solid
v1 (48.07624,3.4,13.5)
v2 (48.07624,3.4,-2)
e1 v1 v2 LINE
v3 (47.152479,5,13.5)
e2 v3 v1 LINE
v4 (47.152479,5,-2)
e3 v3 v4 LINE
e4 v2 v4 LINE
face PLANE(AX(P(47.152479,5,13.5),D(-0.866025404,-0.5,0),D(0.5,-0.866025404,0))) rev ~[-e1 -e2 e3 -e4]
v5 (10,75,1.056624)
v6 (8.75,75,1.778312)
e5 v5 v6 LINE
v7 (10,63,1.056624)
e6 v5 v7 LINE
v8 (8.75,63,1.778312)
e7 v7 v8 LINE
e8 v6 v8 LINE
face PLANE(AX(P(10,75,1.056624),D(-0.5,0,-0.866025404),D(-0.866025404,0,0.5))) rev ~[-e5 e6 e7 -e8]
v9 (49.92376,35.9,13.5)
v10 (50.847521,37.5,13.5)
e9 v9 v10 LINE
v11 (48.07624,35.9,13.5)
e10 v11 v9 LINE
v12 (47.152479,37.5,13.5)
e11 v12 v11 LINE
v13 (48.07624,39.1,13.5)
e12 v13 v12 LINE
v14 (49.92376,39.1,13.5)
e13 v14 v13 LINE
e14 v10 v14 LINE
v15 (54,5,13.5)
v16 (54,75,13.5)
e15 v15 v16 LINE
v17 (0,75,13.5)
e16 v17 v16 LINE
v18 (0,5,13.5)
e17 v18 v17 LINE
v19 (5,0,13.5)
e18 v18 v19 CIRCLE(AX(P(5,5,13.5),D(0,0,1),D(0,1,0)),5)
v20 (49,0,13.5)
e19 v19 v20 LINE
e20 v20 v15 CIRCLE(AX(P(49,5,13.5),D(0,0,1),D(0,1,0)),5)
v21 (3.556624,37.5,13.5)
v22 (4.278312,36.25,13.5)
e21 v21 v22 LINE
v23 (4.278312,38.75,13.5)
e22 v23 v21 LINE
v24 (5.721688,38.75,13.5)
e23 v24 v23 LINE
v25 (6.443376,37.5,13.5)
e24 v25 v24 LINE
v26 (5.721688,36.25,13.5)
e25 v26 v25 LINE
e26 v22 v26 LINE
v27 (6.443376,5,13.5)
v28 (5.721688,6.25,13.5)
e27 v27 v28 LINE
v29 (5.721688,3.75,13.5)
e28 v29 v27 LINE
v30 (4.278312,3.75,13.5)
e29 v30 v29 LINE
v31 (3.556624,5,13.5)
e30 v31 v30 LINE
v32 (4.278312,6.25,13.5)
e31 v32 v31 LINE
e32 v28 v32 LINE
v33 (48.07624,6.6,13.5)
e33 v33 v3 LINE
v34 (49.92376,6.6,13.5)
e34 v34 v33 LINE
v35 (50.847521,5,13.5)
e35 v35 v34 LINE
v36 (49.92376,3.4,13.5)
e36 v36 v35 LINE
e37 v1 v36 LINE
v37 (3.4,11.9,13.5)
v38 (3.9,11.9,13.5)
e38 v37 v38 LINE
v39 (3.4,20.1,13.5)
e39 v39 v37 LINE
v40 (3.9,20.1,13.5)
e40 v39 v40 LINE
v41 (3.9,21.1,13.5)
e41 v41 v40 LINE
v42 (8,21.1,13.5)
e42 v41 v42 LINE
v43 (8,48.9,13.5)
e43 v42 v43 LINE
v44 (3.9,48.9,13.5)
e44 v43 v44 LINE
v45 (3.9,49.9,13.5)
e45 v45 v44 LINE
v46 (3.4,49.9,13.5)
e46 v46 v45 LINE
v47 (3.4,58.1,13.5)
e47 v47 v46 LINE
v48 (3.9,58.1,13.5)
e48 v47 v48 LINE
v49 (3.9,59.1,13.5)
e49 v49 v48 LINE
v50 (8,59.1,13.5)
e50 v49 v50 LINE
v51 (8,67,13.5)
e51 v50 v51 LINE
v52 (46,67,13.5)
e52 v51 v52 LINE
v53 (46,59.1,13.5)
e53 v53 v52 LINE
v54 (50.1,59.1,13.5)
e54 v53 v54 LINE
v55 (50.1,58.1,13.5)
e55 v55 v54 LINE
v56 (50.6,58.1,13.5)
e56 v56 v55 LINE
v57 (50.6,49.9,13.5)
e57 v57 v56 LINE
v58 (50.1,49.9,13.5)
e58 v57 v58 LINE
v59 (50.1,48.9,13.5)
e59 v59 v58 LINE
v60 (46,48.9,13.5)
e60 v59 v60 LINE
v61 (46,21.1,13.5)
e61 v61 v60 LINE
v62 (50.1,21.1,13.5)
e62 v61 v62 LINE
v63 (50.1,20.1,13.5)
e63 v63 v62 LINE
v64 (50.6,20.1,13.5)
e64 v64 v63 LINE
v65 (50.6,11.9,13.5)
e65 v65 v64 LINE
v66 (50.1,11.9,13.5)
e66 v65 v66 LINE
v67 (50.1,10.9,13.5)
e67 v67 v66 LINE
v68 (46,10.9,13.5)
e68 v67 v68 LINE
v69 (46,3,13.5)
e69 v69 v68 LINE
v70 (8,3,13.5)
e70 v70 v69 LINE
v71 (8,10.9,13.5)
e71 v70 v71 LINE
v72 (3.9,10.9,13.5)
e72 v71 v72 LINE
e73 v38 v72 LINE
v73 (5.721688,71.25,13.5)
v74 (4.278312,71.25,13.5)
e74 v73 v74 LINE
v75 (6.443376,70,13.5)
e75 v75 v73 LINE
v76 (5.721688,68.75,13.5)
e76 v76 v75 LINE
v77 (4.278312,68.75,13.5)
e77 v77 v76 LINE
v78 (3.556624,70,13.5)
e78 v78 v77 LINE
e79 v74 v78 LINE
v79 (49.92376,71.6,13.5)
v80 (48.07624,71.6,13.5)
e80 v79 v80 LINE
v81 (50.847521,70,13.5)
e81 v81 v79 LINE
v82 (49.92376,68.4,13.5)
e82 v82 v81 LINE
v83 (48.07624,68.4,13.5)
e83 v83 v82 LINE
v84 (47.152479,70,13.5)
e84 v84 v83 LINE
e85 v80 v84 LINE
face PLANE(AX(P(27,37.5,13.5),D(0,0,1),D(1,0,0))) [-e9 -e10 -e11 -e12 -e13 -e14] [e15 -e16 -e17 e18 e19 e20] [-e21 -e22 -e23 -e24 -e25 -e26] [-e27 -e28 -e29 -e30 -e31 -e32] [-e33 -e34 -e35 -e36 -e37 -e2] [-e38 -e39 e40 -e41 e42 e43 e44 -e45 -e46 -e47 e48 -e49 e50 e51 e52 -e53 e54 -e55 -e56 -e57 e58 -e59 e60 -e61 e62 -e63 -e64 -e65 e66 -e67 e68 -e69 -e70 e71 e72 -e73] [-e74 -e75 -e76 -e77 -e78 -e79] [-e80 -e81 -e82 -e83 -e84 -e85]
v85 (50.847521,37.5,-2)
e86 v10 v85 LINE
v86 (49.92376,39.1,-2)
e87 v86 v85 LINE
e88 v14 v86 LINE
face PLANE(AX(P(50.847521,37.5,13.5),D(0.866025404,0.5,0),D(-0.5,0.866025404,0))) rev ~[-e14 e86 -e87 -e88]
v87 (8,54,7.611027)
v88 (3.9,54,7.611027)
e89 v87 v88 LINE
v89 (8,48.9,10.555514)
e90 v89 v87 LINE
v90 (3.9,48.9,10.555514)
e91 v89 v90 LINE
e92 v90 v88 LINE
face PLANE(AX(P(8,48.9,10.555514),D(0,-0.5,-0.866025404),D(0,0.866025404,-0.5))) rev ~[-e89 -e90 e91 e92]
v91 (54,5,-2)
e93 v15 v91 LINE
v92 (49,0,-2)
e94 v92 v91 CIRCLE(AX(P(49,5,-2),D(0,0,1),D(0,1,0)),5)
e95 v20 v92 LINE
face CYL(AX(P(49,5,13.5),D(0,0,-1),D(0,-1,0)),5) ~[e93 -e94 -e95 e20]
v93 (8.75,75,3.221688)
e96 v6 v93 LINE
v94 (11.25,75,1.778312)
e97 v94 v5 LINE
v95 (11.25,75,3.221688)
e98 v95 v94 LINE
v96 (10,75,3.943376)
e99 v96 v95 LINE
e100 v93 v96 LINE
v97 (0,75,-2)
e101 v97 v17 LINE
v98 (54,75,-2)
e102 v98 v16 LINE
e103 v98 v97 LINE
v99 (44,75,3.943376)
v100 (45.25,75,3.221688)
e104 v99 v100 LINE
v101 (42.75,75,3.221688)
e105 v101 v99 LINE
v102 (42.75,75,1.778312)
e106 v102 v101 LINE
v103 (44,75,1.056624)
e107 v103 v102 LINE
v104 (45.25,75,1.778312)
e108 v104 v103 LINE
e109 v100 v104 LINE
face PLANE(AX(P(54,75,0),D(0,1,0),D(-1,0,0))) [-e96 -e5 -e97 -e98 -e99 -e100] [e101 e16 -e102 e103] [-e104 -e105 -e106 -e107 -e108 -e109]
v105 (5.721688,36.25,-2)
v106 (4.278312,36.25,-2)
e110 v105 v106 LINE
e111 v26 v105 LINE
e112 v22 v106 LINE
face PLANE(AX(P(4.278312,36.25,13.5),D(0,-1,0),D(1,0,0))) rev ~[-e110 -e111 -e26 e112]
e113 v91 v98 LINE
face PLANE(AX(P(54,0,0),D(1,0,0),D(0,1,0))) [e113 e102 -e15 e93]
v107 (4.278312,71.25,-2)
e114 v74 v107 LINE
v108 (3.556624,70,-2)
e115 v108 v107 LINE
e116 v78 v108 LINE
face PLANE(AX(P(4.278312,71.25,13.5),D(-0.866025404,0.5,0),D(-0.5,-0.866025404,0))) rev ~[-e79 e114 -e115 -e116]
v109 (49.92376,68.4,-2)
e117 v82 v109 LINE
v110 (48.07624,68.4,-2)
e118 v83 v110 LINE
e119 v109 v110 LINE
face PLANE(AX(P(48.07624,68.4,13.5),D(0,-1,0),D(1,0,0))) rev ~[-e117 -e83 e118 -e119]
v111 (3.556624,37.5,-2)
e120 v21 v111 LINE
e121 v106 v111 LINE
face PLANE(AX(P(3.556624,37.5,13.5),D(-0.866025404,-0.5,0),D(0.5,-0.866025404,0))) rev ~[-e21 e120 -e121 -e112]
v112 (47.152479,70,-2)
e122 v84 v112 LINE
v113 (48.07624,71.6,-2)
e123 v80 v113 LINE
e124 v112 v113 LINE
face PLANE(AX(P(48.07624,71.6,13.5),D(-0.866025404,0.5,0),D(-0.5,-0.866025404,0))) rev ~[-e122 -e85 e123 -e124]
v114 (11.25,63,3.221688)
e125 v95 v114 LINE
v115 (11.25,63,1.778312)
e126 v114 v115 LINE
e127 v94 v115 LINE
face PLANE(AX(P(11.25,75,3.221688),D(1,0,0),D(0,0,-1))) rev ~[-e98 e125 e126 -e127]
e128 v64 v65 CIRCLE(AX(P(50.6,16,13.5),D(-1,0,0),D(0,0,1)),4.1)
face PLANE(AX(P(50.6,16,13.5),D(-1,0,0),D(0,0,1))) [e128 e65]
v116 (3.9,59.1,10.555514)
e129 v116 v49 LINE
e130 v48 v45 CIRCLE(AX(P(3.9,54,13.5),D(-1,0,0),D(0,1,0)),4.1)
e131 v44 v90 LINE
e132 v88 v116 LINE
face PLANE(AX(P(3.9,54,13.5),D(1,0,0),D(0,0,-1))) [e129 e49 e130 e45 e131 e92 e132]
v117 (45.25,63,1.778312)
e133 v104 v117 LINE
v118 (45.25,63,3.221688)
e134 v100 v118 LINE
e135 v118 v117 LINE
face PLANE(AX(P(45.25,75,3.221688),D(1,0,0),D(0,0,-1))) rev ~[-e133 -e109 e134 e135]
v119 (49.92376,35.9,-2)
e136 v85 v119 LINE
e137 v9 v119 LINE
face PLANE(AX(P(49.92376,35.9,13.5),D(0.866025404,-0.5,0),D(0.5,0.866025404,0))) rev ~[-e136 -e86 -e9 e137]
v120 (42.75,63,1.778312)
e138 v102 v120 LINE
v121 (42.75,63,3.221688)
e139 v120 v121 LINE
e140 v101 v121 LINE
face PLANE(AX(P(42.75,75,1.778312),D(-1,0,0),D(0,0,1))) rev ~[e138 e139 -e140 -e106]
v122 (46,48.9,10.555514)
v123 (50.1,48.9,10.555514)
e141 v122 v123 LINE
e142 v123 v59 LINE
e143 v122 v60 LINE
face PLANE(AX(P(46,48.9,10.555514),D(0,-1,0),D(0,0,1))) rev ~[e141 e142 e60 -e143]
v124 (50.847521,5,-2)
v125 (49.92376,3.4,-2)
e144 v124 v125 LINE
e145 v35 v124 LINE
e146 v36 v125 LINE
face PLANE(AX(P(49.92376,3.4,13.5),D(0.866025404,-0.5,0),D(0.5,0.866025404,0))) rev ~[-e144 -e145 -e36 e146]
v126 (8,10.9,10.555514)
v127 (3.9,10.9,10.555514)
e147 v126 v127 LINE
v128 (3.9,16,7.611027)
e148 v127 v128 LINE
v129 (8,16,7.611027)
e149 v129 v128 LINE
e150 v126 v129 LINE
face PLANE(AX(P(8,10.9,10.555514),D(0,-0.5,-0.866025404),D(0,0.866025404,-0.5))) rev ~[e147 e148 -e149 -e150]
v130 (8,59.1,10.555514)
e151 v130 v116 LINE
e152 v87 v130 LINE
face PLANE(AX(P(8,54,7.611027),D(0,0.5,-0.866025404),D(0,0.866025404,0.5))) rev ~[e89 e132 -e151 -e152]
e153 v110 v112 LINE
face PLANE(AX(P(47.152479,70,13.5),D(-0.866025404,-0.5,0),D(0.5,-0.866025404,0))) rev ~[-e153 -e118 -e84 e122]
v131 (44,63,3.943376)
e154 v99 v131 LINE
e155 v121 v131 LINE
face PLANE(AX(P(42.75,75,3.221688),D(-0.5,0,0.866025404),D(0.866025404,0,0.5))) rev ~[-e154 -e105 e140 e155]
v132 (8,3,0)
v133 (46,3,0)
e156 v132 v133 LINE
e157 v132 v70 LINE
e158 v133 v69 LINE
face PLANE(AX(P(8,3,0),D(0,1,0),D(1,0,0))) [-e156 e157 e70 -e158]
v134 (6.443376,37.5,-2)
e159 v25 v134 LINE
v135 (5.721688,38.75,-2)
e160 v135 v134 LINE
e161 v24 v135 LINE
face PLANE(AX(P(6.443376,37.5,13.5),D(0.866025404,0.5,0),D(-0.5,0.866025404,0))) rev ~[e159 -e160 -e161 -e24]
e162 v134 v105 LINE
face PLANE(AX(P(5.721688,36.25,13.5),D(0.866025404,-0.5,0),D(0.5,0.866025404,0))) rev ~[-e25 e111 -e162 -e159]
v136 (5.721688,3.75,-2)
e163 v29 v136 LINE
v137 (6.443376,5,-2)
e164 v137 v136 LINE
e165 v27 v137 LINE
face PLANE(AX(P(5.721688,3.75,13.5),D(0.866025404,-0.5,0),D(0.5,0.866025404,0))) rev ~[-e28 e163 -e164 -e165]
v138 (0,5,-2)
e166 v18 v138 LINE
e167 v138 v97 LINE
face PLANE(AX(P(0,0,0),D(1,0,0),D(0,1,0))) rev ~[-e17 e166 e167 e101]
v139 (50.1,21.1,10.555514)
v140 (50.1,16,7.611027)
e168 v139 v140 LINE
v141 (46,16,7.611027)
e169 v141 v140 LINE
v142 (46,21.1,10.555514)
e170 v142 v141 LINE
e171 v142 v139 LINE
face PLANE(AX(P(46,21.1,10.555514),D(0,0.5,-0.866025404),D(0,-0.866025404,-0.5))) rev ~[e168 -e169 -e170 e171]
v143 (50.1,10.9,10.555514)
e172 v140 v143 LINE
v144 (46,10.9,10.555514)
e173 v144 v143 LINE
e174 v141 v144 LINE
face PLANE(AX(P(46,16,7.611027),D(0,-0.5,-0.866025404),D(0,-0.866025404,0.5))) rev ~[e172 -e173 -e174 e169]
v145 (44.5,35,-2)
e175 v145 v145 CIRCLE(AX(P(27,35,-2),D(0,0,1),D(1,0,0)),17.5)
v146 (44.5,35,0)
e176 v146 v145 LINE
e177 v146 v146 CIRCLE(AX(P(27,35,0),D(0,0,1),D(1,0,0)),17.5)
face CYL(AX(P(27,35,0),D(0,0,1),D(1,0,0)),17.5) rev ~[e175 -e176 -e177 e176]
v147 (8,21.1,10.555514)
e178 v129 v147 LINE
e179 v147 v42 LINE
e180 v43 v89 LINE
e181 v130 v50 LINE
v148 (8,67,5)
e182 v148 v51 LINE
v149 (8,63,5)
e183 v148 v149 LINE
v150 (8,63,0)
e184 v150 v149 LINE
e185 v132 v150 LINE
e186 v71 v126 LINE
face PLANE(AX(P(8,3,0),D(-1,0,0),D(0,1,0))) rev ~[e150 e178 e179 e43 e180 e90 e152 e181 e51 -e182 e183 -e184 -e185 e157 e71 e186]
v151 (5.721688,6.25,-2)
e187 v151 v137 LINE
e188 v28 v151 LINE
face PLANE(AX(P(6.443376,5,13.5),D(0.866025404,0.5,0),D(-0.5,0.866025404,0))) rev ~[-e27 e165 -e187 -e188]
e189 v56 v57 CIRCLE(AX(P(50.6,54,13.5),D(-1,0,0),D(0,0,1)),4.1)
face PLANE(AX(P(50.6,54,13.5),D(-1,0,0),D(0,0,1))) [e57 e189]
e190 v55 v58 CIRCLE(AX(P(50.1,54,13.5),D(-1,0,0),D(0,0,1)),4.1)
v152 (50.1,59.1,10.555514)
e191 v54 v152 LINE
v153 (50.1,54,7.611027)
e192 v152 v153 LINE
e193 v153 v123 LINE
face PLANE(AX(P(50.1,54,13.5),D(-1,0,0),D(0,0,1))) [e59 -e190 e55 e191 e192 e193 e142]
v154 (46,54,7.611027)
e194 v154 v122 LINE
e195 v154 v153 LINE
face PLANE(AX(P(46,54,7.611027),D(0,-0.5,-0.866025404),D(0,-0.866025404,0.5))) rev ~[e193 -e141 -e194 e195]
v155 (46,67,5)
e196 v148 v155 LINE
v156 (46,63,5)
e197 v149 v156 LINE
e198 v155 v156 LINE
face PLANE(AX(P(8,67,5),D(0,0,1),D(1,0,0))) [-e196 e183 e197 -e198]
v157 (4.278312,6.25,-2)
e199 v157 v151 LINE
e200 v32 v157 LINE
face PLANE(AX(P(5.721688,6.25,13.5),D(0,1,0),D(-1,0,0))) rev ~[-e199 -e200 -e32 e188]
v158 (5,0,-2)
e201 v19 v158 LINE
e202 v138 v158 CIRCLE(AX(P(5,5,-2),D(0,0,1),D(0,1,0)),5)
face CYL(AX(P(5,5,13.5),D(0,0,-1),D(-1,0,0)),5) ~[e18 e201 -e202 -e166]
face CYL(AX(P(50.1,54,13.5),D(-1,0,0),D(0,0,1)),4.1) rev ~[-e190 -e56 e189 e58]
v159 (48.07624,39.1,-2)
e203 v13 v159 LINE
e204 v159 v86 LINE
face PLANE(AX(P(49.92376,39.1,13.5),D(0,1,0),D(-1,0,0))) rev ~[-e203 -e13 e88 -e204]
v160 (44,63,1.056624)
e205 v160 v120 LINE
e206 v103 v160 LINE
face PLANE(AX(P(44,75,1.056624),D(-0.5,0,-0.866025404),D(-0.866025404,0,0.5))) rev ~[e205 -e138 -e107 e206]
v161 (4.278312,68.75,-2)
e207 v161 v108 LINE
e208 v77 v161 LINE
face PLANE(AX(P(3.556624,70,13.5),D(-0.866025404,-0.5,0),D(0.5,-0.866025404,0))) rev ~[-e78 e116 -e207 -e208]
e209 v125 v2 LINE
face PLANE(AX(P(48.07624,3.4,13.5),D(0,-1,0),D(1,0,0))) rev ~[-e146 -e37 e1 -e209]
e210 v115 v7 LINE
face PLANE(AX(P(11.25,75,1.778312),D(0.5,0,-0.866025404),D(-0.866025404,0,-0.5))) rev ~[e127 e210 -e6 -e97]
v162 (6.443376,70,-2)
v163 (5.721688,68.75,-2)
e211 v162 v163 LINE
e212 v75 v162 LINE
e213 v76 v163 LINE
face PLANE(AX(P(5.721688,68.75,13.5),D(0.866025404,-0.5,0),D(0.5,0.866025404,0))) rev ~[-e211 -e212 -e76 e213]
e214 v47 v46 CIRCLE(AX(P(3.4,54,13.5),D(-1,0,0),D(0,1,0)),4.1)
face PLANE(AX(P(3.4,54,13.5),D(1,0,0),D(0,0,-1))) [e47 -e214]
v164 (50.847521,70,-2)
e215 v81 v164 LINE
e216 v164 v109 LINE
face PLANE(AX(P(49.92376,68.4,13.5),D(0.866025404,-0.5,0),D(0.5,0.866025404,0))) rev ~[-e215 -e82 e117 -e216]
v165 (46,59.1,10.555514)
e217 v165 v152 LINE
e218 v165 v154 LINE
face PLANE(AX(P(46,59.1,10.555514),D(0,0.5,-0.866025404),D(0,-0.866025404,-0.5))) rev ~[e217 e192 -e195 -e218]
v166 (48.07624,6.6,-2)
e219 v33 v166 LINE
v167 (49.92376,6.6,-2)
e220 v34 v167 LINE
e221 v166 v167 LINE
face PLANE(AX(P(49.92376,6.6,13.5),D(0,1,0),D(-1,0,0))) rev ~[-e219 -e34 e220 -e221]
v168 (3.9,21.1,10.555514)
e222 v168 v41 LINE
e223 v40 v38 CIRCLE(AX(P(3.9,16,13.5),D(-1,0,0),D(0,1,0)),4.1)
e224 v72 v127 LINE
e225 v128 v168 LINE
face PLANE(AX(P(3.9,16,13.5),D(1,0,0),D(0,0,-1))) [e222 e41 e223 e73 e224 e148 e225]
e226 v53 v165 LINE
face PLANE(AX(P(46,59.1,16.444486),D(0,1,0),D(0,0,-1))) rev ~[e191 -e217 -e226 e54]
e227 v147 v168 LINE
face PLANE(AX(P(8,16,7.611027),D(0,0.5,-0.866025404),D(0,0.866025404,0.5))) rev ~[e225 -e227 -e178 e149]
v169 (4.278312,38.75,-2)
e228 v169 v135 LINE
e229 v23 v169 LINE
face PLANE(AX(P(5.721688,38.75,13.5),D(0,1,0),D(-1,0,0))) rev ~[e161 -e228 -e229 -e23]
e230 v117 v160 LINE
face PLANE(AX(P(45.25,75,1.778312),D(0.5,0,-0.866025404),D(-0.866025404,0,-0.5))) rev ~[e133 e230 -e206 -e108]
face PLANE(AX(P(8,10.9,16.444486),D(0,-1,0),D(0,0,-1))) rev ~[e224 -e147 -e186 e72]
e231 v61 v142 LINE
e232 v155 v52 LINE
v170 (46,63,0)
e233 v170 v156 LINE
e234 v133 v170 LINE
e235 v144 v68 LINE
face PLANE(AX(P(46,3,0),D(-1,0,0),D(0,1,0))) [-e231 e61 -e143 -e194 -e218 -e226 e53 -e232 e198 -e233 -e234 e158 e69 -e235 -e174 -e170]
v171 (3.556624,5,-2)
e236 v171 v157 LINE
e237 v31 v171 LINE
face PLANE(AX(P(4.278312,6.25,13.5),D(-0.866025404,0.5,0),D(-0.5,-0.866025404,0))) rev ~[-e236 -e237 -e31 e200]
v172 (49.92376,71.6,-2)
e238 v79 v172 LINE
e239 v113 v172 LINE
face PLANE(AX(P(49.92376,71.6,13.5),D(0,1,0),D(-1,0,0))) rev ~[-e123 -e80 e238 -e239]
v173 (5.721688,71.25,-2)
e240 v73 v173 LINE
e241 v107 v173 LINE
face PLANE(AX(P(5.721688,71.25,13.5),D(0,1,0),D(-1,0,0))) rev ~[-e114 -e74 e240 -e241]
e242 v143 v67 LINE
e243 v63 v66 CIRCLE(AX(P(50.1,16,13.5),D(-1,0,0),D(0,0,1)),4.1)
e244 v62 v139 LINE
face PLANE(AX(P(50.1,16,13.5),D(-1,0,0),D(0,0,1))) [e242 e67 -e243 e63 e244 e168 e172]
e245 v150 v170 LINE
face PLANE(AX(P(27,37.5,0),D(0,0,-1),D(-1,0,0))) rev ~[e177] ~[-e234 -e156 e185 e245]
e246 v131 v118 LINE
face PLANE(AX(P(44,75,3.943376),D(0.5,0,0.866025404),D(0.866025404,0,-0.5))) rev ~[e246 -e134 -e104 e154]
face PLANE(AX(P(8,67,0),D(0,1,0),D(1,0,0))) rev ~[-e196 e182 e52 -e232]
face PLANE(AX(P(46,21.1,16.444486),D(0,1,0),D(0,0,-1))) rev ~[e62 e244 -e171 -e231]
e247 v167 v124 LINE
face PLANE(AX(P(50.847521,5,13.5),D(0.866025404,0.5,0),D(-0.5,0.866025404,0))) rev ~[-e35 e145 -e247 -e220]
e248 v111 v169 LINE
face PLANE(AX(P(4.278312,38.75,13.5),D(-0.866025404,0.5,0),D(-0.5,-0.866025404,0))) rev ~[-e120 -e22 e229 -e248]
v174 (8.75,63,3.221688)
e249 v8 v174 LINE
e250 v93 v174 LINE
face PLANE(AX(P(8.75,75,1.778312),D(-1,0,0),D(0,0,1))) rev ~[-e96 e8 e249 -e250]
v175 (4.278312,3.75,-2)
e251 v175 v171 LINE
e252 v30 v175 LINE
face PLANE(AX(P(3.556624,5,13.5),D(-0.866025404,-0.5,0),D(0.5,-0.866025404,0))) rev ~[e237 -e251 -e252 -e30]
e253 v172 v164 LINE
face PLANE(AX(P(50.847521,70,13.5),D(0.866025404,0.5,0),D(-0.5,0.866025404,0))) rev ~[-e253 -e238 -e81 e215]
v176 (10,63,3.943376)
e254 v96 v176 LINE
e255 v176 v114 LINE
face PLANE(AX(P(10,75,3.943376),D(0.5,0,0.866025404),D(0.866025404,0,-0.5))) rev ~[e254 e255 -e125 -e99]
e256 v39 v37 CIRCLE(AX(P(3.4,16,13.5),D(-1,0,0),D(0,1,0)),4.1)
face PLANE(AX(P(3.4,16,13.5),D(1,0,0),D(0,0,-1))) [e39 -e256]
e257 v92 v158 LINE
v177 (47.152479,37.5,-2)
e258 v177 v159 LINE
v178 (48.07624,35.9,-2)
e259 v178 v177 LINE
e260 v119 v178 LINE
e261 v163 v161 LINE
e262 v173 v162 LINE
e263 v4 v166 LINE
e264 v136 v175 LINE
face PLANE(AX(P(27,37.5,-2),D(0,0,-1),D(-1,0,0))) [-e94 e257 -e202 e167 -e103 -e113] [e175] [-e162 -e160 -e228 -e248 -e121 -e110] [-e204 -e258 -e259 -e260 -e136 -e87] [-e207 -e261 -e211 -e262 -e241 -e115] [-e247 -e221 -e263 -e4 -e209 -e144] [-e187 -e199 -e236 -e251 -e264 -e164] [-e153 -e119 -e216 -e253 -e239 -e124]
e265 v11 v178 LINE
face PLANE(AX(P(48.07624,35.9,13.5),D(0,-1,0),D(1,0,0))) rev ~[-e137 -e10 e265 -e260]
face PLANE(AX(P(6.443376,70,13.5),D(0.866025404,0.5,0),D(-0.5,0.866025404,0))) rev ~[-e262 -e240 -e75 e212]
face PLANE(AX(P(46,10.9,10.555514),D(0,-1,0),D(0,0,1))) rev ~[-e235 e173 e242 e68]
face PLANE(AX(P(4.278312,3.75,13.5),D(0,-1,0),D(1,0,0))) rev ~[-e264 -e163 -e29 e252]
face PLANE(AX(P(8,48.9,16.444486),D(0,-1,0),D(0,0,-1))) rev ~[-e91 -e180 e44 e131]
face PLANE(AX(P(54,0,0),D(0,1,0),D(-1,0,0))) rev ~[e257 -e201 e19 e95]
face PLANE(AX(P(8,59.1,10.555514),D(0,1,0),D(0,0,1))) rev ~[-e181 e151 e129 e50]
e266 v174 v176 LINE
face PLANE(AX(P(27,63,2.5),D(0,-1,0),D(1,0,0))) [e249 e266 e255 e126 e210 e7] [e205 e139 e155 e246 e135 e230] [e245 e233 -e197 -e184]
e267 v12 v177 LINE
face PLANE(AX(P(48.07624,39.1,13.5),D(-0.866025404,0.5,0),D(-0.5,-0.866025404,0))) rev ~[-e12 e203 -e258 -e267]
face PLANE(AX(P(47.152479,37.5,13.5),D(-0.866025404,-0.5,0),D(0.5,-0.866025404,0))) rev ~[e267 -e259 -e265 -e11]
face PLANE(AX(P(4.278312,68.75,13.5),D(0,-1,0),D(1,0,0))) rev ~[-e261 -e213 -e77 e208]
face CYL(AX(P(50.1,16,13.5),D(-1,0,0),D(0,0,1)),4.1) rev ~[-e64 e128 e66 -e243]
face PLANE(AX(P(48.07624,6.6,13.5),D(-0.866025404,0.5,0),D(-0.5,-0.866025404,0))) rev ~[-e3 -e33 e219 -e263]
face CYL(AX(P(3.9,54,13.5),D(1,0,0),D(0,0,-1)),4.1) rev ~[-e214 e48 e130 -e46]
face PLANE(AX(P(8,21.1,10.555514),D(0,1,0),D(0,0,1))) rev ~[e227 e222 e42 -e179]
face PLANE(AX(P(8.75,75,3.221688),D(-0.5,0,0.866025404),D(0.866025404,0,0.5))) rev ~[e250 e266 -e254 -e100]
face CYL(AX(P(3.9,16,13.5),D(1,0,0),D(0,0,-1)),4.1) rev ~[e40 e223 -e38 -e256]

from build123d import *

# Parameters (mm, degrees)
SKETCH1_W           = 54
SKETCH1_H           = 75
SKETCH1_W_2         = 38
SKETCH1_H_2         = 64
BOSS_EXTRUDE1_DEPTH = 27
CUT_EXTRUDE1_DEPTH  = 4.1
SKETCH5_R           = 4.1
CUT_EXTRUDE2_DEPTH  = 0.5
CUT_EXTRUDE3_DEPTH  = 4.1
SKETCH7_R           = 4.1
CUT_EXTRUDE4_DEPTH  = 0.5
SKETCH8_W           = 54
SKETCH8_H           = 75
BOSS_EXTRUDE2_DEPTH = 2
SKETCH9_W           = 54
SKETCH9_H           = 75
BOSS_EXTRUDE3_DEPTH = 2
SKETCH10_W          = 54
SKETCH10_H          = 75
CUT_EXTRUDE5_DEPTH  = 15.5
SKETCH11_R          = 17.5
CUT_EXTRUDE6_DEPTH  = 3
CUT_EXTRUDE7_DEPTH  = 16.5
SKETCH14_W          = 38
SKETCH14_H          = 5
BOSS_EXTRUDE4_DEPTH = 4
CUT_EXTRUDE8_REACH  = 77
FILLET1_R           = 5


with BuildPart() as part:
    # Sketch1 → Boss-Extrude1 (new body)
    with BuildSketch(Plane.XY):
        with Locations((27, 37.5)):
            Rectangle(SKETCH1_W, SKETCH1_H)
        with Locations((27, 35)):
            Rectangle(SKETCH1_W_2, SKETCH1_H_2, mode=Mode.SUBTRACT)
    extrude(amount=BOSS_EXTRUDE1_DEPTH)

    # Sketch2 → Cut-Extrude1 (cut)
    with BuildSketch(Plane.ZY.offset(-46)):
        Polygon((19.388972746, 54), (16.444486373, 59.1), (10.555513627, 59.1), (7.611027254, 54), (10.555513627, 48.9), (16.444486373, 48.9), align=None)
        Polygon((19.388972746, 16), (16.444486373, 21.1), (10.555513627, 21.1), (7.611027254, 16), (10.555513627, 10.9), (16.444486373, 10.9), align=None)
    extrude(amount=-CUT_EXTRUDE1_DEPTH, mode=Mode.SUBTRACT)

    # Sketch5 → Cut-Extrude2 (cut)
    with BuildSketch(Plane.ZY.offset(-50.1)):
        with Locations((13.5, 54)):
            Circle(SKETCH5_R)
        with Locations((13.5, 16)):
            Circle(SKETCH5_R)
    extrude(amount=-CUT_EXTRUDE2_DEPTH, mode=Mode.SUBTRACT)

    # Sketch6 → Cut-Extrude3 (cut)
    with BuildSketch(Plane(origin=(8, 0, 0), x_dir=(0, 0, -1), z_dir=(1, 0, 0))):
        Polygon((-7.611027254, 54), (-10.555513627, 59.1), (-16.444486373, 59.1), (-19.388972746, 54), (-16.444486373, 48.9), (-10.555513627, 48.9), align=None)
        Polygon((-7.611027254, 16), (-10.555513627, 21.1), (-16.444486373, 21.1), (-19.388972746, 16), (-16.444486373, 10.9), (-10.555513627, 10.9), align=None)
    extrude(amount=-CUT_EXTRUDE3_DEPTH, mode=Mode.SUBTRACT)

    # Sketch7 → Cut-Extrude4 (cut)
    with BuildSketch(Plane(origin=(3.9, 0, 0), x_dir=(0, 0, -1), z_dir=(1, 0, 0))):
        with Locations((-13.5, 54)):
            Circle(SKETCH7_R)
        with Locations((-13.5, 16)):
            Circle(SKETCH7_R)
    extrude(amount=-CUT_EXTRUDE4_DEPTH, mode=Mode.SUBTRACT)

    # Sketch8 → Boss-Extrude2 (add)
    with BuildSketch(Plane.XY.offset(27)):
        with Locations((27, 37.5)):
            Rectangle(SKETCH8_W, SKETCH8_H)
    extrude(amount=BOSS_EXTRUDE2_DEPTH)

    # Sketch9 → Boss-Extrude3 (add)
    with BuildSketch(Plane(origin=(0, 0, 0), x_dir=(-1, 0, 0), z_dir=(0, 0, -1))):
        with Locations((-27, 37.5)):
            Rectangle(SKETCH9_W, SKETCH9_H)
    extrude(amount=BOSS_EXTRUDE3_DEPTH)

    # Sketch10 → Cut-Extrude5 (cut)
    with BuildSketch(Plane.XY.offset(29)):
        with Locations((27, 37.5)):
            Rectangle(SKETCH10_W, SKETCH10_H)
    extrude(amount=-CUT_EXTRUDE5_DEPTH, mode=Mode.SUBTRACT)

    # Sketch11 → Cut-Extrude6 (cut, through all)
    with BuildSketch(Plane.XY):
        with Locations((27, 35)):
            Circle(SKETCH11_R)
    extrude(amount=-CUT_EXTRUDE6_DEPTH, mode=Mode.SUBTRACT)

    # Sketch12 → Cut-Extrude7 (cut, through all)
    with BuildSketch(Plane.XY.offset(13.5)):
        Polygon((6.443375673, 70), (5.721687836, 71.25), (4.278312164, 71.25), (3.556624327, 70), (4.278312164, 68.75), (5.721687836, 68.75), align=None)
        Polygon((50.847520861, 70), (49.923760431, 71.6), (48.076239569, 71.6), (47.152479139, 70), (48.076239569, 68.4), (49.923760431, 68.4), align=None)
        Polygon((6.443375673, 5), (5.721687836, 6.25), (4.278312164, 6.25), (3.556624327, 5), (4.278312164, 3.75), (5.721687836, 3.75), align=None)
        Polygon((50.847520861, 5), (49.923760431, 6.6), (48.076239569, 6.6), (47.152479139, 5), (48.076239569, 3.4), (49.923760431, 3.4), align=None)
        Polygon((50.847520861, 37.5), (49.923760431, 39.1), (48.076239569, 39.1), (47.152479139, 37.5), (48.076239569, 35.9), (49.923760431, 35.9), align=None)
        Polygon((6.443375673, 37.5), (5.721687836, 38.75), (4.278312164, 38.75), (3.556624327, 37.5), (4.278312164, 36.25), (5.721687836, 36.25), align=None)
    extrude(amount=-CUT_EXTRUDE7_DEPTH, mode=Mode.SUBTRACT)

    # Sketch14 → Boss-Extrude4 (add)
    with BuildSketch(Plane.XZ.offset(-67)):
        with Locations((27, 2.5)):
            Rectangle(SKETCH14_W, SKETCH14_H)
    extrude(amount=BOSS_EXTRUDE4_DEPTH)

    # Sketch13 → Cut-Extrude8 (cut, up to next)
    with BuildSketch(Plane(origin=(0, 75, 0), x_dir=(1, 0, 0), z_dir=(0, 1, 0)), mode=Mode.PRIVATE) as cut_extrude8_sk1:
        Polygon((44, -1.056624327), (42.75, -1.778312164), (42.75, -3.221687836), (44, -3.943375673), (45.25, -3.221687836), (45.25, -1.778312164), align=None)
    cut_extrude8_tool1 = extrude(cut_extrude8_sk1.sketch, amount=-CUT_EXTRUDE8_REACH, mode=Mode.PRIVATE) & part.part
    add(cut_extrude8_tool1.solids().sort_by_distance((44, 75, 2.5))[0], mode=Mode.SUBTRACT)
    # Sketch13 → Cut-Extrude8 (cut, up to next)
    with BuildSketch(Plane(origin=(0, 75, 0), x_dir=(1, 0, 0), z_dir=(0, 1, 0)), mode=Mode.PRIVATE) as cut_extrude8_sk2:
        Polygon((10, -1.056624327), (8.75, -1.778312164), (8.75, -3.221687836), (10, -3.943375673), (11.25, -3.221687836), (11.25, -1.778312164), align=None)
    cut_extrude8_tool2 = extrude(cut_extrude8_sk2.sketch, amount=-CUT_EXTRUDE8_REACH, mode=Mode.PRIVATE) & part.part
    add(cut_extrude8_tool2.solids().sort_by_distance((10, 75, 2.5))[0], mode=Mode.SUBTRACT)

    # Fillet1
    fillet1_edges = [part.edges().sort_by_distance(p)[0] for p in [
        (0, 0, 5.75),
        (54, 0, 5.75),
    ]]
    fillet(fillet1_edges, radius=FILLET1_R)


solid = part.part
